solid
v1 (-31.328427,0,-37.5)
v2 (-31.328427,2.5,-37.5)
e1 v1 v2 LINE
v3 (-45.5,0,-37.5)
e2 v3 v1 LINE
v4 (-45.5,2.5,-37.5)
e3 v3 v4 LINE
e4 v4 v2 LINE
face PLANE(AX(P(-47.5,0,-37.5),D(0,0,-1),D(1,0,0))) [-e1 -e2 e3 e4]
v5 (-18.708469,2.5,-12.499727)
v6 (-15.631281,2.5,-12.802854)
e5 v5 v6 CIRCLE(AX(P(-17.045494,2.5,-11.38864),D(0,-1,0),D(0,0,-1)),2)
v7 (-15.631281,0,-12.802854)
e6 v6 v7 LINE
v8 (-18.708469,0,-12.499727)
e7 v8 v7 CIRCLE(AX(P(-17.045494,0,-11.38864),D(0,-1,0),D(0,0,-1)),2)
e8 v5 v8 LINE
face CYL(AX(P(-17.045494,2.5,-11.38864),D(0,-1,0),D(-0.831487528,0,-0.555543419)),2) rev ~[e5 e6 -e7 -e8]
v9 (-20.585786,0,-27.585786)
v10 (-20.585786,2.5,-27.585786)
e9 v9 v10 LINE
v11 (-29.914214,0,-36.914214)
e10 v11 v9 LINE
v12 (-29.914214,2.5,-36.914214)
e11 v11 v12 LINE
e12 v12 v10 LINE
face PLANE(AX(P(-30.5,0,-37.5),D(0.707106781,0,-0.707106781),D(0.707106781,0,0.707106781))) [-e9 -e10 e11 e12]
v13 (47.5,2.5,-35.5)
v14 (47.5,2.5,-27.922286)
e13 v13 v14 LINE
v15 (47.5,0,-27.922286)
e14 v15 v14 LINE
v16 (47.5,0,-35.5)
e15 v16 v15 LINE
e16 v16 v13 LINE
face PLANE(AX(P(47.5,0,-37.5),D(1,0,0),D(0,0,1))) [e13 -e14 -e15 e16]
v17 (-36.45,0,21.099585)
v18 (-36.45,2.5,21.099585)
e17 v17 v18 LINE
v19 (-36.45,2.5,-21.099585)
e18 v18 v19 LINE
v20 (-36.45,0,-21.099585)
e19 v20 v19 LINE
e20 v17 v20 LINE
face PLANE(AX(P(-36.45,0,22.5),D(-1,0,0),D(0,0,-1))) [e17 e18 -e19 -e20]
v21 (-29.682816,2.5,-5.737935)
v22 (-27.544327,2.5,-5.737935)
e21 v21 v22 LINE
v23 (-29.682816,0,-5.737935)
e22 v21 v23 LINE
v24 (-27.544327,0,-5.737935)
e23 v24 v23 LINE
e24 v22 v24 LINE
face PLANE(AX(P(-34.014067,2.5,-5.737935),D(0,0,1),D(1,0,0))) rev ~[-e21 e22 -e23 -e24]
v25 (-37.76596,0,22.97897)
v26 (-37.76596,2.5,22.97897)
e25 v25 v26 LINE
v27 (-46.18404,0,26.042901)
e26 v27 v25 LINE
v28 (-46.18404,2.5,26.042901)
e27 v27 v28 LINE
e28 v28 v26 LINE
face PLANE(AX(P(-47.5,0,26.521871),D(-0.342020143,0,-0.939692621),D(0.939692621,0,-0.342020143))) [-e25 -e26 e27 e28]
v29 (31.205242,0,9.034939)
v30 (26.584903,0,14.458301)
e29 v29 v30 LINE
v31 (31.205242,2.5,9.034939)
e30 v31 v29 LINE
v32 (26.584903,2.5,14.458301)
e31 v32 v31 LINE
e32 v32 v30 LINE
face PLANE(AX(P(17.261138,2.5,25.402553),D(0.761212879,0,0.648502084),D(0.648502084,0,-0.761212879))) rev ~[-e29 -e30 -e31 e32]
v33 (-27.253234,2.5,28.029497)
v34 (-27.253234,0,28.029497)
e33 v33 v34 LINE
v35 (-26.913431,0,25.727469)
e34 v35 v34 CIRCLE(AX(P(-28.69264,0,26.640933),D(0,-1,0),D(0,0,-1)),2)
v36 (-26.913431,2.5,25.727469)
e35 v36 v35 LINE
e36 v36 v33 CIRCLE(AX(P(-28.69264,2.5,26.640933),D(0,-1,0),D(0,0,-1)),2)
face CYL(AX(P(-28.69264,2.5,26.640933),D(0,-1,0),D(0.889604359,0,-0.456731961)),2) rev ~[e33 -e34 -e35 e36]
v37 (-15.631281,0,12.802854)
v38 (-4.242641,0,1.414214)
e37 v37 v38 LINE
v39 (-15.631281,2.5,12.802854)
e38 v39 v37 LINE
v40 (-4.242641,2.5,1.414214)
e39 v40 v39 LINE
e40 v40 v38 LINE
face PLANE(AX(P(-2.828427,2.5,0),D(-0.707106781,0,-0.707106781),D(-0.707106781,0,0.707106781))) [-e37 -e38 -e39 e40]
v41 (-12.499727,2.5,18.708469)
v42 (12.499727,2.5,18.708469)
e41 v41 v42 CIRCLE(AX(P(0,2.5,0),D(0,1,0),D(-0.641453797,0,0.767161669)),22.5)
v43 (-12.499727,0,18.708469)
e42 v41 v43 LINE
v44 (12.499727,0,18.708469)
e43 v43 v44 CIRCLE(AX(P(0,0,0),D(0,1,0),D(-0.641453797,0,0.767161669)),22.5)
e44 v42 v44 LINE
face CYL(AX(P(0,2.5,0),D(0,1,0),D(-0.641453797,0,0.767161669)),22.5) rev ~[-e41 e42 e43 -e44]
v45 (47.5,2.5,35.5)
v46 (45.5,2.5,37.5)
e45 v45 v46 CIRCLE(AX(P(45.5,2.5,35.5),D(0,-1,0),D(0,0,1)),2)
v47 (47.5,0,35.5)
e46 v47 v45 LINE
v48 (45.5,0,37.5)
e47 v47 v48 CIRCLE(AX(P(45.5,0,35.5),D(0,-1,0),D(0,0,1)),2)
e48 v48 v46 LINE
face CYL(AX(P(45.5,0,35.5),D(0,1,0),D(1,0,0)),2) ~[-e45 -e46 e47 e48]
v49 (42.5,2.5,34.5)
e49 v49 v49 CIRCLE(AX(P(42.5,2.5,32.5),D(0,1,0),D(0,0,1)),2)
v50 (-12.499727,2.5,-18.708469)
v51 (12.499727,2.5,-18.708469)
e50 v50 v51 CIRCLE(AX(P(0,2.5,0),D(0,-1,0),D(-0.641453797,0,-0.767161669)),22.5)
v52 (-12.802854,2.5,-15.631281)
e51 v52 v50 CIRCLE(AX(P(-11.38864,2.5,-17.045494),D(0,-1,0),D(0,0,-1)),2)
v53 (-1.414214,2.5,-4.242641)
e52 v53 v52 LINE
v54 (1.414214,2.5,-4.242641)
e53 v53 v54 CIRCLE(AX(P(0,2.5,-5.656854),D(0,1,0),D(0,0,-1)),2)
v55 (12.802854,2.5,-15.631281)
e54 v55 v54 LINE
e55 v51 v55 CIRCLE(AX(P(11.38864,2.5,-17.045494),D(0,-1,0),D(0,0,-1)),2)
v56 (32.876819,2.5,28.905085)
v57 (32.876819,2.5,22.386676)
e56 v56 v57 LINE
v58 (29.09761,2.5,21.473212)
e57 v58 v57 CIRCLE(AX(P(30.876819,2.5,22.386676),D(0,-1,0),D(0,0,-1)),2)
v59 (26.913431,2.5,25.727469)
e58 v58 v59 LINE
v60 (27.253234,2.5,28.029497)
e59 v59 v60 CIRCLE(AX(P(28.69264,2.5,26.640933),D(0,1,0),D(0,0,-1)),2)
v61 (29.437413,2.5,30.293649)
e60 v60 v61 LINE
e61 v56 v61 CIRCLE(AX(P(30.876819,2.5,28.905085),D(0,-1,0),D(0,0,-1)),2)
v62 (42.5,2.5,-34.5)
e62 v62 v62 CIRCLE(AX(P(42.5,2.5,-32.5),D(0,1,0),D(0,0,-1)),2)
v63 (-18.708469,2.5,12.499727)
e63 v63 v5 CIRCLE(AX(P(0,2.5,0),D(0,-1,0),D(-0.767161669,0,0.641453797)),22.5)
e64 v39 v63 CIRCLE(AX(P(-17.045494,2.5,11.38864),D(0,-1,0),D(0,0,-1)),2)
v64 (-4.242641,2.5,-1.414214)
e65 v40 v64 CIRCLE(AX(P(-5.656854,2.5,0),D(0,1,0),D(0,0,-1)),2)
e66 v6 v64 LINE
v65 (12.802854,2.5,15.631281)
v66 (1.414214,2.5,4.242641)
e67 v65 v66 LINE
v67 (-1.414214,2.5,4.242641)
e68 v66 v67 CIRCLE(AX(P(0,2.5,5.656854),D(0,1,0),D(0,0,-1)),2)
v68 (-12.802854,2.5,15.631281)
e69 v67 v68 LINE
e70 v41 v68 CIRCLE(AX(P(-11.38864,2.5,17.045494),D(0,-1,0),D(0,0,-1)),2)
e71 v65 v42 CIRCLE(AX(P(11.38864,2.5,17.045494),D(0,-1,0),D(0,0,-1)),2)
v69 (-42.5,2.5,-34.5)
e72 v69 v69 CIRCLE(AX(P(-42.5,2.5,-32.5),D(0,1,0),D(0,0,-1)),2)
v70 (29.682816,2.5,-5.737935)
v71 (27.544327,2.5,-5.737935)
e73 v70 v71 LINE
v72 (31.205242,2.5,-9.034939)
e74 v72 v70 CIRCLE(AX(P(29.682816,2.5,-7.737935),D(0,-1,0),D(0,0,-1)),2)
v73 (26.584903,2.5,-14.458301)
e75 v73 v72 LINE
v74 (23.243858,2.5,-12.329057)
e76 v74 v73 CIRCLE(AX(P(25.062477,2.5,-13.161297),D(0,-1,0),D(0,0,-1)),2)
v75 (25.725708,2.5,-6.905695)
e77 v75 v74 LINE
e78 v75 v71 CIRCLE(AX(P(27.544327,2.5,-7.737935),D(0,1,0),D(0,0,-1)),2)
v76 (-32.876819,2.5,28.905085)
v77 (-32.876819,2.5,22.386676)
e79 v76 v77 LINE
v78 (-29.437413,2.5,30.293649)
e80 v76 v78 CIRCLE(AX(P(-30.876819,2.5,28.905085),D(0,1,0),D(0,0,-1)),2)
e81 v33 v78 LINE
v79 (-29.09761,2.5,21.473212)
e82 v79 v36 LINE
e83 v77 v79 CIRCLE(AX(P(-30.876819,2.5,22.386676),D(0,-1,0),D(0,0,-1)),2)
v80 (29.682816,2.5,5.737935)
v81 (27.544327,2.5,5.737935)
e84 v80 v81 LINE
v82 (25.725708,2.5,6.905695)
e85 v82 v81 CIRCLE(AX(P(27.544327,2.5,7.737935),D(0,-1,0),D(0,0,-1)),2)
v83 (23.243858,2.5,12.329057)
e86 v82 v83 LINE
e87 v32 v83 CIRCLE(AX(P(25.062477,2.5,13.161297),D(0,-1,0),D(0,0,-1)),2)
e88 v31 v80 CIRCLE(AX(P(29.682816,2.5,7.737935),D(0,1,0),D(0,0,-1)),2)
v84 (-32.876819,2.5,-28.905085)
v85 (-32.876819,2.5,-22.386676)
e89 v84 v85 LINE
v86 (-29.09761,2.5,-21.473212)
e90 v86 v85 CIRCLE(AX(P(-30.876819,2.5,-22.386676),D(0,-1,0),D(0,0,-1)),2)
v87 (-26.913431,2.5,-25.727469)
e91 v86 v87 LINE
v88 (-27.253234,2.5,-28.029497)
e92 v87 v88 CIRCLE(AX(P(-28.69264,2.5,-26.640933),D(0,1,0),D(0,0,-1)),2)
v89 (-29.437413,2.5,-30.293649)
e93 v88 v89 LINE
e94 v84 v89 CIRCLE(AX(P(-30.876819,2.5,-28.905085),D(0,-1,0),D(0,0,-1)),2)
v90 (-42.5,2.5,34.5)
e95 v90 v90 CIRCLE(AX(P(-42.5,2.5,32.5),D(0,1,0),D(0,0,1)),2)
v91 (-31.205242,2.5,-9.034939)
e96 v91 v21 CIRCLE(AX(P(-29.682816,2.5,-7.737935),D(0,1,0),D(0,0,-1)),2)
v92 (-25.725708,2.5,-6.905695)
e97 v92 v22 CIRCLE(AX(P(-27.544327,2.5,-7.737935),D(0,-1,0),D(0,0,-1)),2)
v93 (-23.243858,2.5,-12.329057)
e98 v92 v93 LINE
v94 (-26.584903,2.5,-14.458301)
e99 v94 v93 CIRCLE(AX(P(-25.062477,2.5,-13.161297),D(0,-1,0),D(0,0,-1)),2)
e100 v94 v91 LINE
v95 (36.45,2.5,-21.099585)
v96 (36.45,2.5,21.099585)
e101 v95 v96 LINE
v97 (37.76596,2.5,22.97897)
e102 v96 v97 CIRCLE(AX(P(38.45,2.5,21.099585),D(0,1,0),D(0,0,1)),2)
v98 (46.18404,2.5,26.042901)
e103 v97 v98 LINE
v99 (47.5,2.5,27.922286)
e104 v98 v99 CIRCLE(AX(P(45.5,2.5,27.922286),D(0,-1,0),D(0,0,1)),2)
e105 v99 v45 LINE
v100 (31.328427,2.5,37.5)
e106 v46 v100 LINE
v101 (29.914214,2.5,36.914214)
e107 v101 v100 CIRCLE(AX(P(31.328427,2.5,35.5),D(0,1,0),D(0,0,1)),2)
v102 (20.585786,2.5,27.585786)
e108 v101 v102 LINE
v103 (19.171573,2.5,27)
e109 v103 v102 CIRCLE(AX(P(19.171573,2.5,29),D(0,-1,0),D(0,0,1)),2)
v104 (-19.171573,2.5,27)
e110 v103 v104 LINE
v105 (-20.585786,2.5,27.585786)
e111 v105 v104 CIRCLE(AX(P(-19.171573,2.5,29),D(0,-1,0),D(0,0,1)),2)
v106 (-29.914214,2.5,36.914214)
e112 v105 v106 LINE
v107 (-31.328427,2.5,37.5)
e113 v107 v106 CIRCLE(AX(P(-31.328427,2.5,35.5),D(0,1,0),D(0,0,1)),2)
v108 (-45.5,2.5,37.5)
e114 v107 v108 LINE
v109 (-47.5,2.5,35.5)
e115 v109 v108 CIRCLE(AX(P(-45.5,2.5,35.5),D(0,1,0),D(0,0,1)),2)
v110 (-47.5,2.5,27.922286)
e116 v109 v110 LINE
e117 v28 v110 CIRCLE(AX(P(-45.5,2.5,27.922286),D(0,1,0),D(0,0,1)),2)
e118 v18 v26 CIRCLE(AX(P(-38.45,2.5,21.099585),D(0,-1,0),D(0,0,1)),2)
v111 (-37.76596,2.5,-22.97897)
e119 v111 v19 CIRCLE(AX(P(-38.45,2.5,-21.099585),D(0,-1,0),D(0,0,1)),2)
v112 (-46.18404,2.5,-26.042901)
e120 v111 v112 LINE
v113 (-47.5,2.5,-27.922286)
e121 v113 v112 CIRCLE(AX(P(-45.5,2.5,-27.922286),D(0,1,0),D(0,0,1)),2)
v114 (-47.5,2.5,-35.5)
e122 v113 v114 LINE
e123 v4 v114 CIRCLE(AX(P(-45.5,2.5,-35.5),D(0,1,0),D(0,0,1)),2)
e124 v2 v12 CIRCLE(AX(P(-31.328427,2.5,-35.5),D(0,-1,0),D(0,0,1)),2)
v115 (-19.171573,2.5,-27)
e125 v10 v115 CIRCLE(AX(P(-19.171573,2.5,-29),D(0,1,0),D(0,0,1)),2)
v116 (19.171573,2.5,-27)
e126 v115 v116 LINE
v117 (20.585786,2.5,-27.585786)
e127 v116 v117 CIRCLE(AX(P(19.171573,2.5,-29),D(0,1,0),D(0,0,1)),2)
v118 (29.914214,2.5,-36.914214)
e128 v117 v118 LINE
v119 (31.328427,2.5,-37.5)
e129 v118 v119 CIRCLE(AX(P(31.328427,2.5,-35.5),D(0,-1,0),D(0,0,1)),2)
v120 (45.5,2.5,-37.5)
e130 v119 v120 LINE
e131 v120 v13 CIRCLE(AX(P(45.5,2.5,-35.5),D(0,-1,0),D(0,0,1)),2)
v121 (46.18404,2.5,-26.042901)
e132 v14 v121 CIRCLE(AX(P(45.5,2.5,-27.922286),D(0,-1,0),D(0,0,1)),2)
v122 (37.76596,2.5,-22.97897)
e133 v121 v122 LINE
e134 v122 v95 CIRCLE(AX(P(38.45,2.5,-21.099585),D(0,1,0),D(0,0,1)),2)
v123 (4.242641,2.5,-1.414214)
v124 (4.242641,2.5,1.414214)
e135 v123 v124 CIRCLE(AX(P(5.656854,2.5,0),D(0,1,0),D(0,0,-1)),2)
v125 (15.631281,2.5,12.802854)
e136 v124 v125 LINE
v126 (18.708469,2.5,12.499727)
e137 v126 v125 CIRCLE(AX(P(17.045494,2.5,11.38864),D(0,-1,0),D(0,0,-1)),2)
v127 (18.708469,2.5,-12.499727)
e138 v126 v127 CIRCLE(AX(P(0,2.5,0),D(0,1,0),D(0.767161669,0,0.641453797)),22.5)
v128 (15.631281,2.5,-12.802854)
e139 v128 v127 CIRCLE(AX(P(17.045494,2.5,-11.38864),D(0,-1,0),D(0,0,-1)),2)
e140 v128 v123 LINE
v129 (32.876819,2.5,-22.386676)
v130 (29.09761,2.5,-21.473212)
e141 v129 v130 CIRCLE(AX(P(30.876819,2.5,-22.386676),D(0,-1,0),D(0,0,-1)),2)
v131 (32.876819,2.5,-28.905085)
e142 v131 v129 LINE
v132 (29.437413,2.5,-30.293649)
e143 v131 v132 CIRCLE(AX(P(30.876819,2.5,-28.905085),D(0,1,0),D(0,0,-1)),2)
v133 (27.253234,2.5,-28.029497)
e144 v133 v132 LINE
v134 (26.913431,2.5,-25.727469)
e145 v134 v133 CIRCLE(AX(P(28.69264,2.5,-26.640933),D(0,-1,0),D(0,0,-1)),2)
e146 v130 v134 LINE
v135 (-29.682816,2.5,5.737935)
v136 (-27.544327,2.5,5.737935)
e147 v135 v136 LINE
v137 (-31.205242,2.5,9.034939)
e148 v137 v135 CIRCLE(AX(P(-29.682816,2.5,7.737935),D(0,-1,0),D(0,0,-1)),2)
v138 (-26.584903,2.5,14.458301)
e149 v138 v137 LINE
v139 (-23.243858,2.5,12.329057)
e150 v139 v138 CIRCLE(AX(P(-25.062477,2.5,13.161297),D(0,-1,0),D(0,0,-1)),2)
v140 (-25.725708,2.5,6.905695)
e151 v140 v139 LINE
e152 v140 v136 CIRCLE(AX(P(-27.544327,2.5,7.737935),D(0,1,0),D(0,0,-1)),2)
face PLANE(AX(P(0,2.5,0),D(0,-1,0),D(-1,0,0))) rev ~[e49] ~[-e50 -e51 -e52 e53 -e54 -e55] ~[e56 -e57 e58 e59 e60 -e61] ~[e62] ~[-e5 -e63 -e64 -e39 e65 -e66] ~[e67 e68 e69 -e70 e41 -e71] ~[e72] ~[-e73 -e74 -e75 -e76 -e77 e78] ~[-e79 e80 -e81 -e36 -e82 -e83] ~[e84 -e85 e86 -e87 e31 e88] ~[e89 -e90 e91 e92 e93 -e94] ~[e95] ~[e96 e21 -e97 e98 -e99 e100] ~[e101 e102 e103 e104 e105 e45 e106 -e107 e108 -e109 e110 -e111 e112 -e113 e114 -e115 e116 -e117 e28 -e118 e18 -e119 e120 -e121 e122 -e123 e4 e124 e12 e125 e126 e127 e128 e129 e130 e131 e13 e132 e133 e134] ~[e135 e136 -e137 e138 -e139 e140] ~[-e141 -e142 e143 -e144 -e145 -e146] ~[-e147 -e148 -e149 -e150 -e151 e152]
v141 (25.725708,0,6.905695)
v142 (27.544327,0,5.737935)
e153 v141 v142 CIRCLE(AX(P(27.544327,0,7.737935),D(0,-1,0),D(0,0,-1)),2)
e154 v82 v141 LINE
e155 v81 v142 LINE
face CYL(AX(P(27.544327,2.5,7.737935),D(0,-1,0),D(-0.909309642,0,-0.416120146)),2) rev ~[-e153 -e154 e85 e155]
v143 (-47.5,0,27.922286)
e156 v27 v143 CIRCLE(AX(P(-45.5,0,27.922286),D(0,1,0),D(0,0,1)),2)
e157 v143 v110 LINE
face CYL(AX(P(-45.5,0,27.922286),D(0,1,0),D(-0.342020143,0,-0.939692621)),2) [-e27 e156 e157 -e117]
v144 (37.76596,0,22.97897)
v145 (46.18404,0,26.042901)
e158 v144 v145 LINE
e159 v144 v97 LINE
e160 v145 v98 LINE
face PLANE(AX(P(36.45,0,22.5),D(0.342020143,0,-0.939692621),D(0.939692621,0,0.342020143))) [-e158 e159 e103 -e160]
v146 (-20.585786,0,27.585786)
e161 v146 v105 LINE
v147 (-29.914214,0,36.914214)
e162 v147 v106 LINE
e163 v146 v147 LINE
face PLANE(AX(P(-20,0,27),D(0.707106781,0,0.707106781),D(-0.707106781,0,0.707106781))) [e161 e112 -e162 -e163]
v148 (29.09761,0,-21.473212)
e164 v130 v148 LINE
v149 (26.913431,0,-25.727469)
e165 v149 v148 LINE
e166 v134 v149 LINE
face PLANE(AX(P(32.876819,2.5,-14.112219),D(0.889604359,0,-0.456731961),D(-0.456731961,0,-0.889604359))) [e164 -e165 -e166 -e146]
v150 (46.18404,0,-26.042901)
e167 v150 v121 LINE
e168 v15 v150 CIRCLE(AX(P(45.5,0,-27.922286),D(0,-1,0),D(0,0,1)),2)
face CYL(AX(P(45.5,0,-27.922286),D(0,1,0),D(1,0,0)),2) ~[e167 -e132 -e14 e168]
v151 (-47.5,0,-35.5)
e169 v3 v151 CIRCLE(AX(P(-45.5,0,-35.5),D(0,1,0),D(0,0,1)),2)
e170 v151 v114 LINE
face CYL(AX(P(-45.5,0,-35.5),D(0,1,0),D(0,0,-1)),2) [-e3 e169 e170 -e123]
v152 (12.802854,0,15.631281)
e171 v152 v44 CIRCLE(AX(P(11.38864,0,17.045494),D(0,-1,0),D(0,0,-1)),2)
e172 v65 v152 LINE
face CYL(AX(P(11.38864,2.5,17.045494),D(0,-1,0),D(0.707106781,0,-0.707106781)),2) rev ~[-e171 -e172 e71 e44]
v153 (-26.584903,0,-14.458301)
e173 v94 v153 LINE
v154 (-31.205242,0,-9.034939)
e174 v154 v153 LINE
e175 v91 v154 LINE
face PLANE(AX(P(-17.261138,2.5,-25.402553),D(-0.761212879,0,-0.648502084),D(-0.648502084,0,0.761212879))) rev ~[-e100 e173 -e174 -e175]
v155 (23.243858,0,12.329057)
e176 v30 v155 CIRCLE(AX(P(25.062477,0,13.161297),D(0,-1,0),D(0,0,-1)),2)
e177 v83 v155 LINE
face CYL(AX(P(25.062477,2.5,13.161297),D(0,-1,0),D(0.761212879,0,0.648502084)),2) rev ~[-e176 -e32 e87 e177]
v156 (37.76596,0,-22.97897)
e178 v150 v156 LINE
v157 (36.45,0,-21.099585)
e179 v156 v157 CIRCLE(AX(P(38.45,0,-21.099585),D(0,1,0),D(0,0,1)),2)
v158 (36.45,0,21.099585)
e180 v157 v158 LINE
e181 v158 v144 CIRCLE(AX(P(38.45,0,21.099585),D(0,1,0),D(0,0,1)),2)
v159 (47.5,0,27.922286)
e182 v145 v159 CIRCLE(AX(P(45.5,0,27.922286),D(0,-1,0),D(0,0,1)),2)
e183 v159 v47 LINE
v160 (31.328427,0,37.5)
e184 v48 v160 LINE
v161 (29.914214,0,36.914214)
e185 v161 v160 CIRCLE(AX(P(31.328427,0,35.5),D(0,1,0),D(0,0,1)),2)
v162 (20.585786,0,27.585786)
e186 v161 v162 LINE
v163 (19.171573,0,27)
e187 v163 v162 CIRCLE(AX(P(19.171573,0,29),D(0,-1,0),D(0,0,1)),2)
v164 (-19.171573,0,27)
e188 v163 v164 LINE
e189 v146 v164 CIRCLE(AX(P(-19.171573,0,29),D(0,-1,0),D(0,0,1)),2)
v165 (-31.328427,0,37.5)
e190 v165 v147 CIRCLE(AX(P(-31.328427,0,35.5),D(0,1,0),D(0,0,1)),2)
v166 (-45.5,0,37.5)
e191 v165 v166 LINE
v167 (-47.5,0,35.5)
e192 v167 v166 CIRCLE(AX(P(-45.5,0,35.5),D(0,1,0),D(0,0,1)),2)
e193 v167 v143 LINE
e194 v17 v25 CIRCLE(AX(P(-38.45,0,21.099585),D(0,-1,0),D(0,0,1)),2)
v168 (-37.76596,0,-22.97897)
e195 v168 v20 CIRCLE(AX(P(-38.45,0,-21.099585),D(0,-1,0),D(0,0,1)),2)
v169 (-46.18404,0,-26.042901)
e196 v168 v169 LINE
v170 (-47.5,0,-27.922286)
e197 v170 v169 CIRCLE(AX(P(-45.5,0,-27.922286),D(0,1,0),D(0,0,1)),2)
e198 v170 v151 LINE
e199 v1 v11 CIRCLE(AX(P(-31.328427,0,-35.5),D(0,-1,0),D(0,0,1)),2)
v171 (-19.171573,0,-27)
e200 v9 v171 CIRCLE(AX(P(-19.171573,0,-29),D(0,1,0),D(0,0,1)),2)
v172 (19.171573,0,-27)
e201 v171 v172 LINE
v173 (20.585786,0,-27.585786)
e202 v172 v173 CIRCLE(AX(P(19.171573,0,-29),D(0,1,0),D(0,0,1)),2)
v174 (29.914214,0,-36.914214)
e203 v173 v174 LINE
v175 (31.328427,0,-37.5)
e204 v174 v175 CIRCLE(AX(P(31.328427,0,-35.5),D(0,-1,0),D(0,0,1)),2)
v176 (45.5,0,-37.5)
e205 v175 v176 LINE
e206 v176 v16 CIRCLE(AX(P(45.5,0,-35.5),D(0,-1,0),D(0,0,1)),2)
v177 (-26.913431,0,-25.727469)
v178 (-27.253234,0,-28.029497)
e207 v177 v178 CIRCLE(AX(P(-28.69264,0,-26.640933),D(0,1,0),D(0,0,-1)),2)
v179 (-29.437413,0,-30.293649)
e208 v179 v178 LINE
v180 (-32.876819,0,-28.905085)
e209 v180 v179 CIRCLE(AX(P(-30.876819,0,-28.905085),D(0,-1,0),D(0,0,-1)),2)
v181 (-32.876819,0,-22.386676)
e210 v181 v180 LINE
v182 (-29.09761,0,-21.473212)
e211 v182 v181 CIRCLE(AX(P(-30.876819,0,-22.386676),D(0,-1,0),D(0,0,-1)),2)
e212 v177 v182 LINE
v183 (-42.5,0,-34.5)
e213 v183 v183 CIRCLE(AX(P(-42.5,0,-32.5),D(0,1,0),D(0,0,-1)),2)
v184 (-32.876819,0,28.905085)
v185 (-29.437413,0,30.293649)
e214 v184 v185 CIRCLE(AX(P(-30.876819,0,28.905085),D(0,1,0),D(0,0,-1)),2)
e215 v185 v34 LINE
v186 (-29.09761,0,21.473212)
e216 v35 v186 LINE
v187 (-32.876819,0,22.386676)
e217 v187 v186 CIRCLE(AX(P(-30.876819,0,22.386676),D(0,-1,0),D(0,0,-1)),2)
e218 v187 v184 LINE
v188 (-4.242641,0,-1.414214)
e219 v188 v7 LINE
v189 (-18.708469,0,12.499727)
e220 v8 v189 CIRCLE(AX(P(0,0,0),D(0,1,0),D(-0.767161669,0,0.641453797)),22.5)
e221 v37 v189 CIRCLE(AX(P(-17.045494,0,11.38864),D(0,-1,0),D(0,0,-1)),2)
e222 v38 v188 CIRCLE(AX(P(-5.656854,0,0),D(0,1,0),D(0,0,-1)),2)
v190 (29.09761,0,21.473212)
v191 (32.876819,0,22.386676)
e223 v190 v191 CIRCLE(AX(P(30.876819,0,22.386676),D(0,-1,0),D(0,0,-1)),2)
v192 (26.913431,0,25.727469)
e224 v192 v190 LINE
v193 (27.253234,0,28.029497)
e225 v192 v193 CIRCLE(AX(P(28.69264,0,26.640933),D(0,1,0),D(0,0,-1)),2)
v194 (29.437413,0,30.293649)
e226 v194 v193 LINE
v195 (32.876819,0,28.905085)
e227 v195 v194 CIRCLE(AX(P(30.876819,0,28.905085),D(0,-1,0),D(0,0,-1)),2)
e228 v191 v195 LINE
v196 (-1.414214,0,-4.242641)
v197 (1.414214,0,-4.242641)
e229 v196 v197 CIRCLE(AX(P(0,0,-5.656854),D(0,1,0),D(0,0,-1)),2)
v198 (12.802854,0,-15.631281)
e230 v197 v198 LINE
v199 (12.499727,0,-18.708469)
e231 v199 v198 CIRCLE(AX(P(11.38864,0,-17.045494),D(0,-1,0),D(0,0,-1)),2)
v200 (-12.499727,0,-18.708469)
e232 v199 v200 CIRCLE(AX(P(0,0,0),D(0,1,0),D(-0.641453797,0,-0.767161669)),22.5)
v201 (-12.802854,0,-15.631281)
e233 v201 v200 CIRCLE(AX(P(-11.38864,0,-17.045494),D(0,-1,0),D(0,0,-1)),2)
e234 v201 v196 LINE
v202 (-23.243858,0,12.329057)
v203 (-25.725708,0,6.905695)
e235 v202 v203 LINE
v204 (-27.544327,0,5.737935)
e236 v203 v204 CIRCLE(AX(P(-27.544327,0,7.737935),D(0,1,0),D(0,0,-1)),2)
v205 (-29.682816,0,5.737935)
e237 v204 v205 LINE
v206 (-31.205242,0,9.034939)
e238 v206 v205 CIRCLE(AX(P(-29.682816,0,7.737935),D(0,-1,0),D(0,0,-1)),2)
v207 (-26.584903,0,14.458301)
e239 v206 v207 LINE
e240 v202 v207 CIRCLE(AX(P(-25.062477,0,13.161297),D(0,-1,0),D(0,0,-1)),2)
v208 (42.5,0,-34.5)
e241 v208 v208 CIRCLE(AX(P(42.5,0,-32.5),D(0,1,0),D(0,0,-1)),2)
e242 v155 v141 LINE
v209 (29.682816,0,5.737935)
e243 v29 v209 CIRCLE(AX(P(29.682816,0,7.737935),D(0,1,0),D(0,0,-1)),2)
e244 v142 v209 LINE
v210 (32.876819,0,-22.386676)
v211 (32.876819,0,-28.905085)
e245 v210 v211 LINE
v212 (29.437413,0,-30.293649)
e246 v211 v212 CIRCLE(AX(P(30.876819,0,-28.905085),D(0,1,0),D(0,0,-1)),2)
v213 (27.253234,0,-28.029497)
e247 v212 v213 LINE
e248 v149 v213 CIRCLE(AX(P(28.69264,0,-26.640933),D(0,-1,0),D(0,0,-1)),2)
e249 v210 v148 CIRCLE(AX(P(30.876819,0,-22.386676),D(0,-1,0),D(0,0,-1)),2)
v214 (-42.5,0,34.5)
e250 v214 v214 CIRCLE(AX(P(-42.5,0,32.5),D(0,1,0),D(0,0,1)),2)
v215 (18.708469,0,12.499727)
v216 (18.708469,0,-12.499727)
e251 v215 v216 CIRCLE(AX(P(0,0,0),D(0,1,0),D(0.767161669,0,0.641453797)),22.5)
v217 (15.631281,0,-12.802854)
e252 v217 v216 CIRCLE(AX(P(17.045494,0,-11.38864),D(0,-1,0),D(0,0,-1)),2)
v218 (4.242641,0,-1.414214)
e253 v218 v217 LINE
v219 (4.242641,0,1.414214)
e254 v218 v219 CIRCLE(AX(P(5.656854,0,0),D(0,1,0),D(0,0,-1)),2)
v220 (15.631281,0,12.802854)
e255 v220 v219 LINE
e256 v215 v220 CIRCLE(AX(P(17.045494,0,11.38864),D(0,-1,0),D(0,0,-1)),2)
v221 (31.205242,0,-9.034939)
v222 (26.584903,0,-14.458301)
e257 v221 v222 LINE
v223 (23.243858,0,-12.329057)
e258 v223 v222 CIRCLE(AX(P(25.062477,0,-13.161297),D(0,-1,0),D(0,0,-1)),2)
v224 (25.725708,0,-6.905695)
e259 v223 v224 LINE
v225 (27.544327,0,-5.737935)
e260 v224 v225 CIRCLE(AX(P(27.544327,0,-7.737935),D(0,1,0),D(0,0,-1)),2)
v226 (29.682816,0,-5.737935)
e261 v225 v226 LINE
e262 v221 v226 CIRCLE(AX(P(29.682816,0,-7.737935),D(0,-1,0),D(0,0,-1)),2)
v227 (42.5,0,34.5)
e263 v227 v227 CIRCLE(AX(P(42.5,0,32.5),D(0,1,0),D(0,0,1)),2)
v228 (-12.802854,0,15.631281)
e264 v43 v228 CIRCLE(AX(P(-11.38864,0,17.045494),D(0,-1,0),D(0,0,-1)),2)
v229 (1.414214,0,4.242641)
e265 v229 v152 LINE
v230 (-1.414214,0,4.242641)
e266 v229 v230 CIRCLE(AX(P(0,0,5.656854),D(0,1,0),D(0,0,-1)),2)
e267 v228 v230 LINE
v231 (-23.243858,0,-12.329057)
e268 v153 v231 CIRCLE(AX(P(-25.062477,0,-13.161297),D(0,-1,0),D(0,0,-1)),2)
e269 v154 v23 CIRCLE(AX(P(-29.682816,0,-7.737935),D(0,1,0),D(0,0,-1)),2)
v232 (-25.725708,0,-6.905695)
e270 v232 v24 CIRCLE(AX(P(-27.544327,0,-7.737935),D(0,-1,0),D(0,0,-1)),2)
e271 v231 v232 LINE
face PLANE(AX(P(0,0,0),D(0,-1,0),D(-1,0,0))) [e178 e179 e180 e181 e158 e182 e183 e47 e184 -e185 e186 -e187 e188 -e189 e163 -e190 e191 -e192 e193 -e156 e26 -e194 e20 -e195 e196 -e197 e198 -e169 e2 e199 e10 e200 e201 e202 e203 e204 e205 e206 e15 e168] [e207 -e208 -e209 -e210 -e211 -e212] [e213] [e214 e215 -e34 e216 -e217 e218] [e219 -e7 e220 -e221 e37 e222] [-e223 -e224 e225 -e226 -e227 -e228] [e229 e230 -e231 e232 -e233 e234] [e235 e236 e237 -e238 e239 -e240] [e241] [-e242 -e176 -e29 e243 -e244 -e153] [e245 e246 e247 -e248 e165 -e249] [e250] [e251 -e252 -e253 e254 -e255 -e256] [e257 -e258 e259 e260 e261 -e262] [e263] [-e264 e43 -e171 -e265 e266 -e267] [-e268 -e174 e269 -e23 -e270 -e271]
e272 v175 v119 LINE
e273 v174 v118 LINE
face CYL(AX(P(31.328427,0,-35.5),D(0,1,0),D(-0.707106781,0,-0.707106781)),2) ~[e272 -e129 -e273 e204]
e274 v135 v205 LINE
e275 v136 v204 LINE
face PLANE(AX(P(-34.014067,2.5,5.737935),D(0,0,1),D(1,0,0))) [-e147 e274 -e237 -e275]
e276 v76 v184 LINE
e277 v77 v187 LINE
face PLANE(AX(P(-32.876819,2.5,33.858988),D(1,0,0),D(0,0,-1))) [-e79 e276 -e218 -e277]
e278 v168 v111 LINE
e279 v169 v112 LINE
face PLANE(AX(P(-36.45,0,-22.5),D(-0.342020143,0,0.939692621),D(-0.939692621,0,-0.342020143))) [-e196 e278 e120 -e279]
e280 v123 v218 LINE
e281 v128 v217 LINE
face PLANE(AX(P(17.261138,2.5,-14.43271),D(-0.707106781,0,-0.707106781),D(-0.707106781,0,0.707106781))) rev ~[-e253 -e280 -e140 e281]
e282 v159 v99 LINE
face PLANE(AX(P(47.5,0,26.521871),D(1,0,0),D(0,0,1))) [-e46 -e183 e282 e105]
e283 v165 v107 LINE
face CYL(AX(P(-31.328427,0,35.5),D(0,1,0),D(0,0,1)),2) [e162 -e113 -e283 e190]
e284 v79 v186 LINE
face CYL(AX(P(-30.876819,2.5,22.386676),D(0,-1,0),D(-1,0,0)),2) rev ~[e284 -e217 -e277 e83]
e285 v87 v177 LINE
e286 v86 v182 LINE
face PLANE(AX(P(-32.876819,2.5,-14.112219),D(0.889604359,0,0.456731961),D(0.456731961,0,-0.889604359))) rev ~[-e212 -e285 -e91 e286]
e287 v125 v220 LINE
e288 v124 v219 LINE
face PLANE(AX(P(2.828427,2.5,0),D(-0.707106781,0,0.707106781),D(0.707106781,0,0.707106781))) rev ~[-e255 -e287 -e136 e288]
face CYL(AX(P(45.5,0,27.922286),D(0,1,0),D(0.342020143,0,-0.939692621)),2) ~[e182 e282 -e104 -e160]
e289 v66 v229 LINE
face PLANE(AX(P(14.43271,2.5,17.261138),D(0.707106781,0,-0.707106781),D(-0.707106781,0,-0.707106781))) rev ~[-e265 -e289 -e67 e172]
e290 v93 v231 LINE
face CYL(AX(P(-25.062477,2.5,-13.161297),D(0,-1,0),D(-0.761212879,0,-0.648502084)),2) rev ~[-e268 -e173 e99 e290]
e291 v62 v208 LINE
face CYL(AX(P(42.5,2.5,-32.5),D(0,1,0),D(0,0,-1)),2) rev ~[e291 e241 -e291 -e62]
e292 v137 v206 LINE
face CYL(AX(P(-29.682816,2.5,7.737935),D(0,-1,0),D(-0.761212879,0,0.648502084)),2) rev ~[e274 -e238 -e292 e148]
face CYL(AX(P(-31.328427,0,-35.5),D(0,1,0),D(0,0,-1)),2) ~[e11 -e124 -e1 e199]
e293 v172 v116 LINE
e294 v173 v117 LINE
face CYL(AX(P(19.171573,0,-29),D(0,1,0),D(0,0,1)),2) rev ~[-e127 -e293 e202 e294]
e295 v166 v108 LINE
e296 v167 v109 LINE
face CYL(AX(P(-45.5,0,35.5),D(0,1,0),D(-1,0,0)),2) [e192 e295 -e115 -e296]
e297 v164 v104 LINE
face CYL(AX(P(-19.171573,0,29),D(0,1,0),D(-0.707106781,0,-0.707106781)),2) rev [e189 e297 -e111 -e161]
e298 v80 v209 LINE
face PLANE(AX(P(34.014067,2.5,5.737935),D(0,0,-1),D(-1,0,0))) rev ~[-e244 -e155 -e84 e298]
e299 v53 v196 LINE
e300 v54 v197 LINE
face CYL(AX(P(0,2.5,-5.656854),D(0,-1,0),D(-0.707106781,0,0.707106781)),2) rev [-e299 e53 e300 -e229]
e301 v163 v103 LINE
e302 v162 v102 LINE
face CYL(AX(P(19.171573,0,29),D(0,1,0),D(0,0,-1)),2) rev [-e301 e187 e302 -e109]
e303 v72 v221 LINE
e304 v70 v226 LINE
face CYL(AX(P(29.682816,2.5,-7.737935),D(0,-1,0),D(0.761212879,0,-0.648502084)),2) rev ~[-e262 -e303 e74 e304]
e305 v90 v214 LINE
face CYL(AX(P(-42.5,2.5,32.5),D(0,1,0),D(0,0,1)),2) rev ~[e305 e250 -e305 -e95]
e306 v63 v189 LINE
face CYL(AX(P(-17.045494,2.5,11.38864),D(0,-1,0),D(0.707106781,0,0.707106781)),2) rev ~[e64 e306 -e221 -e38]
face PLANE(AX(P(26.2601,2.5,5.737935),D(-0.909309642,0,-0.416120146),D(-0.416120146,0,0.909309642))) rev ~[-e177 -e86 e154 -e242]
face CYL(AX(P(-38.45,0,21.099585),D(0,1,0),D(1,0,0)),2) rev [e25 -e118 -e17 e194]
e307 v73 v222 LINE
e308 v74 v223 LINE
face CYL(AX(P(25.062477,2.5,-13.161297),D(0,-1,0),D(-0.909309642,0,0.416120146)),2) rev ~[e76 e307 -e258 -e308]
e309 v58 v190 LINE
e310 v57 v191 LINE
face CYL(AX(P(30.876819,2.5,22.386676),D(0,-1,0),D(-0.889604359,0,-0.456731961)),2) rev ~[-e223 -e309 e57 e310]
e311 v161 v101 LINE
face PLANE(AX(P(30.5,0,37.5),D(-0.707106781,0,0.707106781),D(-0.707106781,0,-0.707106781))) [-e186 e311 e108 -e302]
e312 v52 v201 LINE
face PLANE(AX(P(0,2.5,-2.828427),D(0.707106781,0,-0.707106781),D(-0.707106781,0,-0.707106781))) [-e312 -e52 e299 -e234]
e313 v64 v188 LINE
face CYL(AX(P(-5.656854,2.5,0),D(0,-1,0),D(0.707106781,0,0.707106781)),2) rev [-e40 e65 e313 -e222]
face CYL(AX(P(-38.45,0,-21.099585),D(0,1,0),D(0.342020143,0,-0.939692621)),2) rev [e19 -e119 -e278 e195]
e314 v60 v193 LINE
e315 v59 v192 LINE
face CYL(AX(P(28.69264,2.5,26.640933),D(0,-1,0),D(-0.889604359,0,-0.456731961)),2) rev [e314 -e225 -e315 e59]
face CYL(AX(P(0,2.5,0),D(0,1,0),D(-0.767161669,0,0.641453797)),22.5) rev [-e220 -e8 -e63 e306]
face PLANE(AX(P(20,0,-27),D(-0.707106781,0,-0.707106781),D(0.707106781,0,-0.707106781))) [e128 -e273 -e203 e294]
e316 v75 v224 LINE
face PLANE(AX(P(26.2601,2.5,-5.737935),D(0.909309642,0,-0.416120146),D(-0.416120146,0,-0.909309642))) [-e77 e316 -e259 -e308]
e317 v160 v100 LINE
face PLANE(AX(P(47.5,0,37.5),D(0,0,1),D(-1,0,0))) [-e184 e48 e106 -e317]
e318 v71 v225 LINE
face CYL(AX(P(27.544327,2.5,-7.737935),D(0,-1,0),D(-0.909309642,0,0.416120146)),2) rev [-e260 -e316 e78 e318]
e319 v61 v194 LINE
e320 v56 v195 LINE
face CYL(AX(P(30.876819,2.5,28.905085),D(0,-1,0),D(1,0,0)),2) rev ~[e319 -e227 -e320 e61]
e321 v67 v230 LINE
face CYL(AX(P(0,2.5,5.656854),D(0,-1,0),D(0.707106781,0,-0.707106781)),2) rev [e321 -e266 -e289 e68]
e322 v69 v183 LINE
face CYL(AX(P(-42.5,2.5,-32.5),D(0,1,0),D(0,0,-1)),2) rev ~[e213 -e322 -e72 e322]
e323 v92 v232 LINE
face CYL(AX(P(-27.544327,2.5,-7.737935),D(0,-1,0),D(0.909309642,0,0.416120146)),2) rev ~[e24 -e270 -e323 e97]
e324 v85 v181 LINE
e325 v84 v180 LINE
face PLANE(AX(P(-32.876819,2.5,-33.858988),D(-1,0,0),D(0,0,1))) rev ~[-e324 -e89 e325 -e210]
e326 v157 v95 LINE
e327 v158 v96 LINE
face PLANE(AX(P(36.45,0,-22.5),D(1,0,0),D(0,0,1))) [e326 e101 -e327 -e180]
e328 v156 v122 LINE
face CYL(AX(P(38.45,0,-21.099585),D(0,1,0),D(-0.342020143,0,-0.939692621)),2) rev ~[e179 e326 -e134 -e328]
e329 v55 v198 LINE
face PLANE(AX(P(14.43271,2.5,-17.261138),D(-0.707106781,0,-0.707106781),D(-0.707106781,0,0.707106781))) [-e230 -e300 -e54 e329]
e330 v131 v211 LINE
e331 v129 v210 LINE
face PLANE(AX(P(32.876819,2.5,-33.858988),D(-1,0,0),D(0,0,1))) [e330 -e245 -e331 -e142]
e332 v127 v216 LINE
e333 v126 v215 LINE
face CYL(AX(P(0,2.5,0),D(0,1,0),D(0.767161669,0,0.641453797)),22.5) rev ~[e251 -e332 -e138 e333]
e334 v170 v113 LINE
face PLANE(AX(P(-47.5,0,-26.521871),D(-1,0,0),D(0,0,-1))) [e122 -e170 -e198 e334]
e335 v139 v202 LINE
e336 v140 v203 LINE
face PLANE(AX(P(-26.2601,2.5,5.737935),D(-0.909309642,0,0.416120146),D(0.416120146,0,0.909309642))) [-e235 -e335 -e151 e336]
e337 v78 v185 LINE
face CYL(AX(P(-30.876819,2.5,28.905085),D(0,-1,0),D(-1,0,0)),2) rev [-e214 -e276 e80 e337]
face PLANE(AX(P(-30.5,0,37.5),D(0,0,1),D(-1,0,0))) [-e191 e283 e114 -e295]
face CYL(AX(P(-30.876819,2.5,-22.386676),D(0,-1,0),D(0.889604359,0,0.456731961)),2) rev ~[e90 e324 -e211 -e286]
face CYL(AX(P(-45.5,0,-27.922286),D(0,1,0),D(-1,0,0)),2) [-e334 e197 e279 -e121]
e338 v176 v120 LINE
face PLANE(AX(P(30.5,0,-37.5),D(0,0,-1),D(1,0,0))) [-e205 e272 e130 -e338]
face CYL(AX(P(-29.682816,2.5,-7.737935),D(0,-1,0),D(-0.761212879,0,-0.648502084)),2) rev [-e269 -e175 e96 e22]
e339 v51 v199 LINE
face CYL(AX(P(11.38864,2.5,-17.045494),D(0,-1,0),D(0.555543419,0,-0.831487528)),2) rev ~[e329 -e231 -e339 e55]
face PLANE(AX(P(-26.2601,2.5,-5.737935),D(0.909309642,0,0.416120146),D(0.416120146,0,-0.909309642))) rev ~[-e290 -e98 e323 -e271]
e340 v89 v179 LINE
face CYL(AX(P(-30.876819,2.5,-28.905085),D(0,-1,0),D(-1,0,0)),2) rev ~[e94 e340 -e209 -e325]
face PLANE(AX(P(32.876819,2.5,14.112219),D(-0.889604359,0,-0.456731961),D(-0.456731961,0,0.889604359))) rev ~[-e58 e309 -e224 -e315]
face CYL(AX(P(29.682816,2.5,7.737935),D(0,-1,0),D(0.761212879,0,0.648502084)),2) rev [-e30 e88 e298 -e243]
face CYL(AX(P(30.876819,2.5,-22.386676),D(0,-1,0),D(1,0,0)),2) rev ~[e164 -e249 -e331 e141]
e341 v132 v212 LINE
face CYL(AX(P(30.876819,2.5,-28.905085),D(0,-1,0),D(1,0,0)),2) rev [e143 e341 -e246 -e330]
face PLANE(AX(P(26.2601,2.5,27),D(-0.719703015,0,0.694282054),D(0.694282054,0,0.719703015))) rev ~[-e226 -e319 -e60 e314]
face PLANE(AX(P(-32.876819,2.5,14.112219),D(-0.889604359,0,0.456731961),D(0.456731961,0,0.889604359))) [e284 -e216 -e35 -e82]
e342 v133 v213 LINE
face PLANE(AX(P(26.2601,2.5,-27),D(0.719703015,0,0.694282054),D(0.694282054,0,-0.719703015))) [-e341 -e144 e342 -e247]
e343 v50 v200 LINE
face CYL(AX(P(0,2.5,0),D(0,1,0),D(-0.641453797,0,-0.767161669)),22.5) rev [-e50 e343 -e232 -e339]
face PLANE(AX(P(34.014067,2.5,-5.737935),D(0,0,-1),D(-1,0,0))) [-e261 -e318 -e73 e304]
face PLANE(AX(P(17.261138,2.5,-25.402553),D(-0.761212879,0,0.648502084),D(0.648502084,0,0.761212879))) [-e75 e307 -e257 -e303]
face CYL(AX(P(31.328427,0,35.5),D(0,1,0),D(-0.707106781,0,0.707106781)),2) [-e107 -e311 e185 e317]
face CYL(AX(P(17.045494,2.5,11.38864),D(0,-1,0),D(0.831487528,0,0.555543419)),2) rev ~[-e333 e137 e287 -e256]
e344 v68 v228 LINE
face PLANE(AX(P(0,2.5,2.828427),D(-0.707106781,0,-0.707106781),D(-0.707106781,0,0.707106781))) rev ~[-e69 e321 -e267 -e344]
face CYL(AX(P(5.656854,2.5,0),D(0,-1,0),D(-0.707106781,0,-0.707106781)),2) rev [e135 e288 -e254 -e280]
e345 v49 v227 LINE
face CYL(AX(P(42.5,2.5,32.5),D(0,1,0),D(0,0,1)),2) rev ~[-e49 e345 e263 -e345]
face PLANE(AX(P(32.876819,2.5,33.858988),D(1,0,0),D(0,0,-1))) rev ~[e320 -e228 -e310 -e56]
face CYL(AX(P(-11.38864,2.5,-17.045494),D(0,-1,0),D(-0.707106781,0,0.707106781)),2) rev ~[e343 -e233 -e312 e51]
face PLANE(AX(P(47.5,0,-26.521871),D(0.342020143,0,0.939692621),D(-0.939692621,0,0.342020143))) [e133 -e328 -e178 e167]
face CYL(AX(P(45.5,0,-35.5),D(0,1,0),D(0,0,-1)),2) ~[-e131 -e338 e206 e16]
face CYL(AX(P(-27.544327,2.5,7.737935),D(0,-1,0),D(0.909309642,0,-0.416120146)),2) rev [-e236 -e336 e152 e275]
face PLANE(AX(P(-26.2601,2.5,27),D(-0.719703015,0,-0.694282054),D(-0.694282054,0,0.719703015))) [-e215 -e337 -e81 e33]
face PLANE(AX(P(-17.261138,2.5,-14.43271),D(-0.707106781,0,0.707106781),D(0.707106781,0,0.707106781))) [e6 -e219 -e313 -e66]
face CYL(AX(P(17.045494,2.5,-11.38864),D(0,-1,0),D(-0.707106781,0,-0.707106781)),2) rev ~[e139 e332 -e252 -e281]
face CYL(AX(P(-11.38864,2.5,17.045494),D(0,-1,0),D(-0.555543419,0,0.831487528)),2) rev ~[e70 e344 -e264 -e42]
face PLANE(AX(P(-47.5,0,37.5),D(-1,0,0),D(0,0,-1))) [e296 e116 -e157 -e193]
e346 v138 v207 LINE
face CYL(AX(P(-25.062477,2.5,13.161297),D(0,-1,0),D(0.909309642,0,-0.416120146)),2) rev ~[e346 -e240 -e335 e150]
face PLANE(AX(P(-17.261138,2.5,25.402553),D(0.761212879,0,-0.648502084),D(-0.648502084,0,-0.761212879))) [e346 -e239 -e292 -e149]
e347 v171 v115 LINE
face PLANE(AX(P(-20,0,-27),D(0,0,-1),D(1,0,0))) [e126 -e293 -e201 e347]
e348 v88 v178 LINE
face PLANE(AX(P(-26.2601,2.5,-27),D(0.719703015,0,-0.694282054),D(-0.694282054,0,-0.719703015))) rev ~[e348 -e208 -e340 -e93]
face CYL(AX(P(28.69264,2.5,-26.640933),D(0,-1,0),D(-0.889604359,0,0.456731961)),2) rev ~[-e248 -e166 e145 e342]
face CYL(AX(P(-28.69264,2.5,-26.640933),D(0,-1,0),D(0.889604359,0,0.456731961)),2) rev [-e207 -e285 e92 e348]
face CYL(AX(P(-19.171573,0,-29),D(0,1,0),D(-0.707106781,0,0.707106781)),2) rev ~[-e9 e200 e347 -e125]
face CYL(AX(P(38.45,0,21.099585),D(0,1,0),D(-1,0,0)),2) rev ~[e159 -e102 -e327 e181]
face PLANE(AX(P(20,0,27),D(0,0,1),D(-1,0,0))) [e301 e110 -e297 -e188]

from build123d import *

# Parameters (mm, degrees)
EXTRUDE_1_DEPTH     = 2.5
SKETCH_3_R          = 2
CUT_EXTRUDE_1_DEPTH = 61.570207198
CUT_EXTRUDE_2_DEPTH = 61.570207198
FILLET_1_R          = 2
FILLET_2_R          = 2


with BuildPart() as part:
    # 草图2 → 凸台-拉伸1 (new body)
    with BuildSketch(Plane(origin=(0, 0, 0), x_dir=(1, 0, 0), z_dir=(0, 1, 0))):
        Polygon((-47.5, 37.5), (-30.5, 37.5), (-20, 27), (20, 27), (30.5, 37.5), (47.5, 37.5), (47.5, 26.521871089), (36.45, 22.5), (36.45, -22.5), (47.5, -26.521871089), (47.5, -37.5), (30.5, -37.5), (20, -27), (-20, -27), (-30.5, -37.5), (-47.5, -37.5), (-47.5, -26.521871089), (-36.45, -22.5), (-36.45, 22.5), (-47.5, 26.521871089), align=None)
    extrude(amount=EXTRUDE_1_DEPTH)

    # 草图3 → 切除-拉伸1 (cut, through all)
    with BuildSketch(Plane(origin=(0, 2.5, 0), x_dir=(1, 0, 0), z_dir=(0, 1, 0))):
        with Locations(Location((-42.5, -32.5, 0), (0, 0, 270))):
            Circle(SKETCH_3_R)
        with Locations(Location((42.5, -32.5, 0), (0, 0, 270))):
            Circle(SKETCH_3_R)
        with Locations(Location((42.5, 32.5, 0), (0, 0, 90))):
            Circle(SKETCH_3_R)
        with Locations(Location((-42.5, 32.5, 0), (0, 0, 90))):
            Circle(SKETCH_3_R)
    extrude(amount=-CUT_EXTRUDE_1_DEPTH, mode=Mode.SUBTRACT)

    # 草图4 → 切除-拉伸2 (cut, through all)
    with BuildSketch(Plane(origin=(0, 2.5, 0), x_dir=(1, 0, 0), z_dir=(0, 1, 0))):
        with BuildLine():
            Line((14.432710429, 17.261137554), (0, 2.828427125))
            Line((0, 2.828427125), (-14.432710429, 17.261137554))
            ThreePointArc((-14.432710429, 17.261137554), (0, 22.5), (14.432710429, 17.261137554))
        make_face()
        with BuildLine():
            Line((17.261137554, 14.432710429), (2.828427125, 0))
            Line((2.828427125, 0), (17.261137554, -14.432710429))
            ThreePointArc((17.261137554, -14.432710429), (22.5, 0), (17.261137554, 14.432710429))
        make_face()
        with BuildLine():
            Line((14.432710429, -17.261137554), (0, -2.828427125))
            Line((0, -2.828427125), (-14.432710429, -17.261137554))
            ThreePointArc((-14.432710429, -17.261137554), (0, -22.5), (14.432710429, -17.261137554))
        make_face()
        with BuildLine():
            Line((-17.261137554, 14.432710429), (-2.828427125, 0))
            Line((-2.828427125, 0), (-17.261137554, -14.432710429))
            ThreePointArc((-17.261137554, -14.432710429), (-22.5, 0), (-17.261137554, 14.432710429))
        make_face()
        Polygon((-17.261137554, 25.402553145), (-34.014066988, 5.737935313), (-26.260100349, 5.737935313), align=None)
        Polygon((-32.876818547, 14.112219282), (-26.260100349, 27), (-32.876818547, 33.858987655), align=None)
        Polygon((26.260100349, 27), (32.876818547, 33.858987655), (32.876818547, 14.112219282), align=None)
        Polygon((34.014066988, 5.737935313), (26.260100349, 5.737935313), (17.261137554, 25.402553145), align=None)
        Polygon((32.876818547, -14.112219282), (26.260100349, -27), (32.876818547, -33.858987655), align=None)
        Polygon((17.261137554, -25.402553145), (34.014066988, -5.737935313), (26.260100349, -5.737935313), align=None)
        Polygon((-26.260100349, -27), (-32.876818547, -33.858987655), (-32.876818547, -14.112219282), align=None)
        Polygon((-34.014066988, -5.737935313), (-26.260100349, -5.737935313), (-17.261137554, -25.402553145), align=None)
    extrude(amount=-CUT_EXTRUDE_2_DEPTH, mode=Mode.SUBTRACT)

    # 圆角1
    fillet_1_edges = [part.edges().sort_by_distance(p)[0] for p in [
        (-32.876818547, 1.25, -14.112219282),
        (-32.876818547, 1.25, -33.858987655),
        (-26.260100349, 1.25, -27),
        (32.876818547, 1.25, -14.112219282),
        (26.260100349, 1.25, -27),
        (32.876818547, 1.25, -33.858987655),
        (17.261137554, 1.25, -25.402553145),
        (34.014066988, 1.25, -5.737935313),
        (26.260100349, 1.25, -5.737935313),
        (32.876818547, 1.25, 14.112219282),
        (32.876818547, 1.25, 33.858987655),
        (26.260100349, 1.25, 27),
        (14.432710429, 1.25, 17.261137554),
        (-14.432710429, 1.25, 17.261137554),
        (0, 1.25, 2.828427125),
        (17.261137554, 1.25, -14.432710429),
        (17.261137554, 1.25, 14.432710429),
        (2.828427125, 1.25, 0),
        (-17.261137554, 1.25, -25.402553145),
        (-26.260100349, 1.25, -5.737935313),
        (-34.014066988, 1.25, -5.737935313),
        (-17.261137554, 1.25, 14.432710429),
        (-17.261137554, 1.25, -14.432710429),
        (-2.828427125, 1.25, 0),
        (-17.261137554, 1.25, 25.402553145),
        (-34.014066988, 1.25, 5.737935313),
        (-26.260100349, 1.25, 5.737935313),
        (-32.876818547, 1.25, 14.112219282),
        (-26.260100349, 1.25, 27),
        (-32.876818547, 1.25, 33.858987655),
        (17.261137554, 1.25, 25.402553145),
        (26.260100349, 1.25, 5.737935313),
        (34.014066988, 1.25, 5.737935313),
        (-14.432710429, 1.25, -17.261137554),
        (14.432710429, 1.25, -17.261137554),
        (0, 1.25, -2.828427125),
    ]]
    fillet(fillet_1_edges, radius=FILLET_1_R)

    # 圆角2
    fillet_2_edges = [part.edges().sort_by_distance(p)[0] for p in [
        (30.5, 1.25, 37.5),
        (20, 1.25, 27),
        (-20, 1.25, 27),
        (-30.5, 1.25, 37.5),
        (-47.5, 1.25, 37.5),
        (-47.5, 1.25, 26.521871089),
        (-36.45, 1.25, 22.5),
        (-36.45, 1.25, -22.5),
        (-47.5, 1.25, -26.521871089),
        (-47.5, 1.25, -37.5),
        (-30.5, 1.25, -37.5),
        (-20, 1.25, -27),
        (20, 1.25, -27),
        (30.5, 1.25, -37.5),
        (47.5, 1.25, -37.5),
        (47.5, 1.25, -26.521871089),
        (36.45, 1.25, -22.5),
        (36.45, 1.25, 22.5),
        (47.5, 1.25, 26.521871089),
        (47.5, 1.25, 37.5),
    ]]
    fillet(fillet_2_edges, radius=FILLET_2_R)


solid = part.part
